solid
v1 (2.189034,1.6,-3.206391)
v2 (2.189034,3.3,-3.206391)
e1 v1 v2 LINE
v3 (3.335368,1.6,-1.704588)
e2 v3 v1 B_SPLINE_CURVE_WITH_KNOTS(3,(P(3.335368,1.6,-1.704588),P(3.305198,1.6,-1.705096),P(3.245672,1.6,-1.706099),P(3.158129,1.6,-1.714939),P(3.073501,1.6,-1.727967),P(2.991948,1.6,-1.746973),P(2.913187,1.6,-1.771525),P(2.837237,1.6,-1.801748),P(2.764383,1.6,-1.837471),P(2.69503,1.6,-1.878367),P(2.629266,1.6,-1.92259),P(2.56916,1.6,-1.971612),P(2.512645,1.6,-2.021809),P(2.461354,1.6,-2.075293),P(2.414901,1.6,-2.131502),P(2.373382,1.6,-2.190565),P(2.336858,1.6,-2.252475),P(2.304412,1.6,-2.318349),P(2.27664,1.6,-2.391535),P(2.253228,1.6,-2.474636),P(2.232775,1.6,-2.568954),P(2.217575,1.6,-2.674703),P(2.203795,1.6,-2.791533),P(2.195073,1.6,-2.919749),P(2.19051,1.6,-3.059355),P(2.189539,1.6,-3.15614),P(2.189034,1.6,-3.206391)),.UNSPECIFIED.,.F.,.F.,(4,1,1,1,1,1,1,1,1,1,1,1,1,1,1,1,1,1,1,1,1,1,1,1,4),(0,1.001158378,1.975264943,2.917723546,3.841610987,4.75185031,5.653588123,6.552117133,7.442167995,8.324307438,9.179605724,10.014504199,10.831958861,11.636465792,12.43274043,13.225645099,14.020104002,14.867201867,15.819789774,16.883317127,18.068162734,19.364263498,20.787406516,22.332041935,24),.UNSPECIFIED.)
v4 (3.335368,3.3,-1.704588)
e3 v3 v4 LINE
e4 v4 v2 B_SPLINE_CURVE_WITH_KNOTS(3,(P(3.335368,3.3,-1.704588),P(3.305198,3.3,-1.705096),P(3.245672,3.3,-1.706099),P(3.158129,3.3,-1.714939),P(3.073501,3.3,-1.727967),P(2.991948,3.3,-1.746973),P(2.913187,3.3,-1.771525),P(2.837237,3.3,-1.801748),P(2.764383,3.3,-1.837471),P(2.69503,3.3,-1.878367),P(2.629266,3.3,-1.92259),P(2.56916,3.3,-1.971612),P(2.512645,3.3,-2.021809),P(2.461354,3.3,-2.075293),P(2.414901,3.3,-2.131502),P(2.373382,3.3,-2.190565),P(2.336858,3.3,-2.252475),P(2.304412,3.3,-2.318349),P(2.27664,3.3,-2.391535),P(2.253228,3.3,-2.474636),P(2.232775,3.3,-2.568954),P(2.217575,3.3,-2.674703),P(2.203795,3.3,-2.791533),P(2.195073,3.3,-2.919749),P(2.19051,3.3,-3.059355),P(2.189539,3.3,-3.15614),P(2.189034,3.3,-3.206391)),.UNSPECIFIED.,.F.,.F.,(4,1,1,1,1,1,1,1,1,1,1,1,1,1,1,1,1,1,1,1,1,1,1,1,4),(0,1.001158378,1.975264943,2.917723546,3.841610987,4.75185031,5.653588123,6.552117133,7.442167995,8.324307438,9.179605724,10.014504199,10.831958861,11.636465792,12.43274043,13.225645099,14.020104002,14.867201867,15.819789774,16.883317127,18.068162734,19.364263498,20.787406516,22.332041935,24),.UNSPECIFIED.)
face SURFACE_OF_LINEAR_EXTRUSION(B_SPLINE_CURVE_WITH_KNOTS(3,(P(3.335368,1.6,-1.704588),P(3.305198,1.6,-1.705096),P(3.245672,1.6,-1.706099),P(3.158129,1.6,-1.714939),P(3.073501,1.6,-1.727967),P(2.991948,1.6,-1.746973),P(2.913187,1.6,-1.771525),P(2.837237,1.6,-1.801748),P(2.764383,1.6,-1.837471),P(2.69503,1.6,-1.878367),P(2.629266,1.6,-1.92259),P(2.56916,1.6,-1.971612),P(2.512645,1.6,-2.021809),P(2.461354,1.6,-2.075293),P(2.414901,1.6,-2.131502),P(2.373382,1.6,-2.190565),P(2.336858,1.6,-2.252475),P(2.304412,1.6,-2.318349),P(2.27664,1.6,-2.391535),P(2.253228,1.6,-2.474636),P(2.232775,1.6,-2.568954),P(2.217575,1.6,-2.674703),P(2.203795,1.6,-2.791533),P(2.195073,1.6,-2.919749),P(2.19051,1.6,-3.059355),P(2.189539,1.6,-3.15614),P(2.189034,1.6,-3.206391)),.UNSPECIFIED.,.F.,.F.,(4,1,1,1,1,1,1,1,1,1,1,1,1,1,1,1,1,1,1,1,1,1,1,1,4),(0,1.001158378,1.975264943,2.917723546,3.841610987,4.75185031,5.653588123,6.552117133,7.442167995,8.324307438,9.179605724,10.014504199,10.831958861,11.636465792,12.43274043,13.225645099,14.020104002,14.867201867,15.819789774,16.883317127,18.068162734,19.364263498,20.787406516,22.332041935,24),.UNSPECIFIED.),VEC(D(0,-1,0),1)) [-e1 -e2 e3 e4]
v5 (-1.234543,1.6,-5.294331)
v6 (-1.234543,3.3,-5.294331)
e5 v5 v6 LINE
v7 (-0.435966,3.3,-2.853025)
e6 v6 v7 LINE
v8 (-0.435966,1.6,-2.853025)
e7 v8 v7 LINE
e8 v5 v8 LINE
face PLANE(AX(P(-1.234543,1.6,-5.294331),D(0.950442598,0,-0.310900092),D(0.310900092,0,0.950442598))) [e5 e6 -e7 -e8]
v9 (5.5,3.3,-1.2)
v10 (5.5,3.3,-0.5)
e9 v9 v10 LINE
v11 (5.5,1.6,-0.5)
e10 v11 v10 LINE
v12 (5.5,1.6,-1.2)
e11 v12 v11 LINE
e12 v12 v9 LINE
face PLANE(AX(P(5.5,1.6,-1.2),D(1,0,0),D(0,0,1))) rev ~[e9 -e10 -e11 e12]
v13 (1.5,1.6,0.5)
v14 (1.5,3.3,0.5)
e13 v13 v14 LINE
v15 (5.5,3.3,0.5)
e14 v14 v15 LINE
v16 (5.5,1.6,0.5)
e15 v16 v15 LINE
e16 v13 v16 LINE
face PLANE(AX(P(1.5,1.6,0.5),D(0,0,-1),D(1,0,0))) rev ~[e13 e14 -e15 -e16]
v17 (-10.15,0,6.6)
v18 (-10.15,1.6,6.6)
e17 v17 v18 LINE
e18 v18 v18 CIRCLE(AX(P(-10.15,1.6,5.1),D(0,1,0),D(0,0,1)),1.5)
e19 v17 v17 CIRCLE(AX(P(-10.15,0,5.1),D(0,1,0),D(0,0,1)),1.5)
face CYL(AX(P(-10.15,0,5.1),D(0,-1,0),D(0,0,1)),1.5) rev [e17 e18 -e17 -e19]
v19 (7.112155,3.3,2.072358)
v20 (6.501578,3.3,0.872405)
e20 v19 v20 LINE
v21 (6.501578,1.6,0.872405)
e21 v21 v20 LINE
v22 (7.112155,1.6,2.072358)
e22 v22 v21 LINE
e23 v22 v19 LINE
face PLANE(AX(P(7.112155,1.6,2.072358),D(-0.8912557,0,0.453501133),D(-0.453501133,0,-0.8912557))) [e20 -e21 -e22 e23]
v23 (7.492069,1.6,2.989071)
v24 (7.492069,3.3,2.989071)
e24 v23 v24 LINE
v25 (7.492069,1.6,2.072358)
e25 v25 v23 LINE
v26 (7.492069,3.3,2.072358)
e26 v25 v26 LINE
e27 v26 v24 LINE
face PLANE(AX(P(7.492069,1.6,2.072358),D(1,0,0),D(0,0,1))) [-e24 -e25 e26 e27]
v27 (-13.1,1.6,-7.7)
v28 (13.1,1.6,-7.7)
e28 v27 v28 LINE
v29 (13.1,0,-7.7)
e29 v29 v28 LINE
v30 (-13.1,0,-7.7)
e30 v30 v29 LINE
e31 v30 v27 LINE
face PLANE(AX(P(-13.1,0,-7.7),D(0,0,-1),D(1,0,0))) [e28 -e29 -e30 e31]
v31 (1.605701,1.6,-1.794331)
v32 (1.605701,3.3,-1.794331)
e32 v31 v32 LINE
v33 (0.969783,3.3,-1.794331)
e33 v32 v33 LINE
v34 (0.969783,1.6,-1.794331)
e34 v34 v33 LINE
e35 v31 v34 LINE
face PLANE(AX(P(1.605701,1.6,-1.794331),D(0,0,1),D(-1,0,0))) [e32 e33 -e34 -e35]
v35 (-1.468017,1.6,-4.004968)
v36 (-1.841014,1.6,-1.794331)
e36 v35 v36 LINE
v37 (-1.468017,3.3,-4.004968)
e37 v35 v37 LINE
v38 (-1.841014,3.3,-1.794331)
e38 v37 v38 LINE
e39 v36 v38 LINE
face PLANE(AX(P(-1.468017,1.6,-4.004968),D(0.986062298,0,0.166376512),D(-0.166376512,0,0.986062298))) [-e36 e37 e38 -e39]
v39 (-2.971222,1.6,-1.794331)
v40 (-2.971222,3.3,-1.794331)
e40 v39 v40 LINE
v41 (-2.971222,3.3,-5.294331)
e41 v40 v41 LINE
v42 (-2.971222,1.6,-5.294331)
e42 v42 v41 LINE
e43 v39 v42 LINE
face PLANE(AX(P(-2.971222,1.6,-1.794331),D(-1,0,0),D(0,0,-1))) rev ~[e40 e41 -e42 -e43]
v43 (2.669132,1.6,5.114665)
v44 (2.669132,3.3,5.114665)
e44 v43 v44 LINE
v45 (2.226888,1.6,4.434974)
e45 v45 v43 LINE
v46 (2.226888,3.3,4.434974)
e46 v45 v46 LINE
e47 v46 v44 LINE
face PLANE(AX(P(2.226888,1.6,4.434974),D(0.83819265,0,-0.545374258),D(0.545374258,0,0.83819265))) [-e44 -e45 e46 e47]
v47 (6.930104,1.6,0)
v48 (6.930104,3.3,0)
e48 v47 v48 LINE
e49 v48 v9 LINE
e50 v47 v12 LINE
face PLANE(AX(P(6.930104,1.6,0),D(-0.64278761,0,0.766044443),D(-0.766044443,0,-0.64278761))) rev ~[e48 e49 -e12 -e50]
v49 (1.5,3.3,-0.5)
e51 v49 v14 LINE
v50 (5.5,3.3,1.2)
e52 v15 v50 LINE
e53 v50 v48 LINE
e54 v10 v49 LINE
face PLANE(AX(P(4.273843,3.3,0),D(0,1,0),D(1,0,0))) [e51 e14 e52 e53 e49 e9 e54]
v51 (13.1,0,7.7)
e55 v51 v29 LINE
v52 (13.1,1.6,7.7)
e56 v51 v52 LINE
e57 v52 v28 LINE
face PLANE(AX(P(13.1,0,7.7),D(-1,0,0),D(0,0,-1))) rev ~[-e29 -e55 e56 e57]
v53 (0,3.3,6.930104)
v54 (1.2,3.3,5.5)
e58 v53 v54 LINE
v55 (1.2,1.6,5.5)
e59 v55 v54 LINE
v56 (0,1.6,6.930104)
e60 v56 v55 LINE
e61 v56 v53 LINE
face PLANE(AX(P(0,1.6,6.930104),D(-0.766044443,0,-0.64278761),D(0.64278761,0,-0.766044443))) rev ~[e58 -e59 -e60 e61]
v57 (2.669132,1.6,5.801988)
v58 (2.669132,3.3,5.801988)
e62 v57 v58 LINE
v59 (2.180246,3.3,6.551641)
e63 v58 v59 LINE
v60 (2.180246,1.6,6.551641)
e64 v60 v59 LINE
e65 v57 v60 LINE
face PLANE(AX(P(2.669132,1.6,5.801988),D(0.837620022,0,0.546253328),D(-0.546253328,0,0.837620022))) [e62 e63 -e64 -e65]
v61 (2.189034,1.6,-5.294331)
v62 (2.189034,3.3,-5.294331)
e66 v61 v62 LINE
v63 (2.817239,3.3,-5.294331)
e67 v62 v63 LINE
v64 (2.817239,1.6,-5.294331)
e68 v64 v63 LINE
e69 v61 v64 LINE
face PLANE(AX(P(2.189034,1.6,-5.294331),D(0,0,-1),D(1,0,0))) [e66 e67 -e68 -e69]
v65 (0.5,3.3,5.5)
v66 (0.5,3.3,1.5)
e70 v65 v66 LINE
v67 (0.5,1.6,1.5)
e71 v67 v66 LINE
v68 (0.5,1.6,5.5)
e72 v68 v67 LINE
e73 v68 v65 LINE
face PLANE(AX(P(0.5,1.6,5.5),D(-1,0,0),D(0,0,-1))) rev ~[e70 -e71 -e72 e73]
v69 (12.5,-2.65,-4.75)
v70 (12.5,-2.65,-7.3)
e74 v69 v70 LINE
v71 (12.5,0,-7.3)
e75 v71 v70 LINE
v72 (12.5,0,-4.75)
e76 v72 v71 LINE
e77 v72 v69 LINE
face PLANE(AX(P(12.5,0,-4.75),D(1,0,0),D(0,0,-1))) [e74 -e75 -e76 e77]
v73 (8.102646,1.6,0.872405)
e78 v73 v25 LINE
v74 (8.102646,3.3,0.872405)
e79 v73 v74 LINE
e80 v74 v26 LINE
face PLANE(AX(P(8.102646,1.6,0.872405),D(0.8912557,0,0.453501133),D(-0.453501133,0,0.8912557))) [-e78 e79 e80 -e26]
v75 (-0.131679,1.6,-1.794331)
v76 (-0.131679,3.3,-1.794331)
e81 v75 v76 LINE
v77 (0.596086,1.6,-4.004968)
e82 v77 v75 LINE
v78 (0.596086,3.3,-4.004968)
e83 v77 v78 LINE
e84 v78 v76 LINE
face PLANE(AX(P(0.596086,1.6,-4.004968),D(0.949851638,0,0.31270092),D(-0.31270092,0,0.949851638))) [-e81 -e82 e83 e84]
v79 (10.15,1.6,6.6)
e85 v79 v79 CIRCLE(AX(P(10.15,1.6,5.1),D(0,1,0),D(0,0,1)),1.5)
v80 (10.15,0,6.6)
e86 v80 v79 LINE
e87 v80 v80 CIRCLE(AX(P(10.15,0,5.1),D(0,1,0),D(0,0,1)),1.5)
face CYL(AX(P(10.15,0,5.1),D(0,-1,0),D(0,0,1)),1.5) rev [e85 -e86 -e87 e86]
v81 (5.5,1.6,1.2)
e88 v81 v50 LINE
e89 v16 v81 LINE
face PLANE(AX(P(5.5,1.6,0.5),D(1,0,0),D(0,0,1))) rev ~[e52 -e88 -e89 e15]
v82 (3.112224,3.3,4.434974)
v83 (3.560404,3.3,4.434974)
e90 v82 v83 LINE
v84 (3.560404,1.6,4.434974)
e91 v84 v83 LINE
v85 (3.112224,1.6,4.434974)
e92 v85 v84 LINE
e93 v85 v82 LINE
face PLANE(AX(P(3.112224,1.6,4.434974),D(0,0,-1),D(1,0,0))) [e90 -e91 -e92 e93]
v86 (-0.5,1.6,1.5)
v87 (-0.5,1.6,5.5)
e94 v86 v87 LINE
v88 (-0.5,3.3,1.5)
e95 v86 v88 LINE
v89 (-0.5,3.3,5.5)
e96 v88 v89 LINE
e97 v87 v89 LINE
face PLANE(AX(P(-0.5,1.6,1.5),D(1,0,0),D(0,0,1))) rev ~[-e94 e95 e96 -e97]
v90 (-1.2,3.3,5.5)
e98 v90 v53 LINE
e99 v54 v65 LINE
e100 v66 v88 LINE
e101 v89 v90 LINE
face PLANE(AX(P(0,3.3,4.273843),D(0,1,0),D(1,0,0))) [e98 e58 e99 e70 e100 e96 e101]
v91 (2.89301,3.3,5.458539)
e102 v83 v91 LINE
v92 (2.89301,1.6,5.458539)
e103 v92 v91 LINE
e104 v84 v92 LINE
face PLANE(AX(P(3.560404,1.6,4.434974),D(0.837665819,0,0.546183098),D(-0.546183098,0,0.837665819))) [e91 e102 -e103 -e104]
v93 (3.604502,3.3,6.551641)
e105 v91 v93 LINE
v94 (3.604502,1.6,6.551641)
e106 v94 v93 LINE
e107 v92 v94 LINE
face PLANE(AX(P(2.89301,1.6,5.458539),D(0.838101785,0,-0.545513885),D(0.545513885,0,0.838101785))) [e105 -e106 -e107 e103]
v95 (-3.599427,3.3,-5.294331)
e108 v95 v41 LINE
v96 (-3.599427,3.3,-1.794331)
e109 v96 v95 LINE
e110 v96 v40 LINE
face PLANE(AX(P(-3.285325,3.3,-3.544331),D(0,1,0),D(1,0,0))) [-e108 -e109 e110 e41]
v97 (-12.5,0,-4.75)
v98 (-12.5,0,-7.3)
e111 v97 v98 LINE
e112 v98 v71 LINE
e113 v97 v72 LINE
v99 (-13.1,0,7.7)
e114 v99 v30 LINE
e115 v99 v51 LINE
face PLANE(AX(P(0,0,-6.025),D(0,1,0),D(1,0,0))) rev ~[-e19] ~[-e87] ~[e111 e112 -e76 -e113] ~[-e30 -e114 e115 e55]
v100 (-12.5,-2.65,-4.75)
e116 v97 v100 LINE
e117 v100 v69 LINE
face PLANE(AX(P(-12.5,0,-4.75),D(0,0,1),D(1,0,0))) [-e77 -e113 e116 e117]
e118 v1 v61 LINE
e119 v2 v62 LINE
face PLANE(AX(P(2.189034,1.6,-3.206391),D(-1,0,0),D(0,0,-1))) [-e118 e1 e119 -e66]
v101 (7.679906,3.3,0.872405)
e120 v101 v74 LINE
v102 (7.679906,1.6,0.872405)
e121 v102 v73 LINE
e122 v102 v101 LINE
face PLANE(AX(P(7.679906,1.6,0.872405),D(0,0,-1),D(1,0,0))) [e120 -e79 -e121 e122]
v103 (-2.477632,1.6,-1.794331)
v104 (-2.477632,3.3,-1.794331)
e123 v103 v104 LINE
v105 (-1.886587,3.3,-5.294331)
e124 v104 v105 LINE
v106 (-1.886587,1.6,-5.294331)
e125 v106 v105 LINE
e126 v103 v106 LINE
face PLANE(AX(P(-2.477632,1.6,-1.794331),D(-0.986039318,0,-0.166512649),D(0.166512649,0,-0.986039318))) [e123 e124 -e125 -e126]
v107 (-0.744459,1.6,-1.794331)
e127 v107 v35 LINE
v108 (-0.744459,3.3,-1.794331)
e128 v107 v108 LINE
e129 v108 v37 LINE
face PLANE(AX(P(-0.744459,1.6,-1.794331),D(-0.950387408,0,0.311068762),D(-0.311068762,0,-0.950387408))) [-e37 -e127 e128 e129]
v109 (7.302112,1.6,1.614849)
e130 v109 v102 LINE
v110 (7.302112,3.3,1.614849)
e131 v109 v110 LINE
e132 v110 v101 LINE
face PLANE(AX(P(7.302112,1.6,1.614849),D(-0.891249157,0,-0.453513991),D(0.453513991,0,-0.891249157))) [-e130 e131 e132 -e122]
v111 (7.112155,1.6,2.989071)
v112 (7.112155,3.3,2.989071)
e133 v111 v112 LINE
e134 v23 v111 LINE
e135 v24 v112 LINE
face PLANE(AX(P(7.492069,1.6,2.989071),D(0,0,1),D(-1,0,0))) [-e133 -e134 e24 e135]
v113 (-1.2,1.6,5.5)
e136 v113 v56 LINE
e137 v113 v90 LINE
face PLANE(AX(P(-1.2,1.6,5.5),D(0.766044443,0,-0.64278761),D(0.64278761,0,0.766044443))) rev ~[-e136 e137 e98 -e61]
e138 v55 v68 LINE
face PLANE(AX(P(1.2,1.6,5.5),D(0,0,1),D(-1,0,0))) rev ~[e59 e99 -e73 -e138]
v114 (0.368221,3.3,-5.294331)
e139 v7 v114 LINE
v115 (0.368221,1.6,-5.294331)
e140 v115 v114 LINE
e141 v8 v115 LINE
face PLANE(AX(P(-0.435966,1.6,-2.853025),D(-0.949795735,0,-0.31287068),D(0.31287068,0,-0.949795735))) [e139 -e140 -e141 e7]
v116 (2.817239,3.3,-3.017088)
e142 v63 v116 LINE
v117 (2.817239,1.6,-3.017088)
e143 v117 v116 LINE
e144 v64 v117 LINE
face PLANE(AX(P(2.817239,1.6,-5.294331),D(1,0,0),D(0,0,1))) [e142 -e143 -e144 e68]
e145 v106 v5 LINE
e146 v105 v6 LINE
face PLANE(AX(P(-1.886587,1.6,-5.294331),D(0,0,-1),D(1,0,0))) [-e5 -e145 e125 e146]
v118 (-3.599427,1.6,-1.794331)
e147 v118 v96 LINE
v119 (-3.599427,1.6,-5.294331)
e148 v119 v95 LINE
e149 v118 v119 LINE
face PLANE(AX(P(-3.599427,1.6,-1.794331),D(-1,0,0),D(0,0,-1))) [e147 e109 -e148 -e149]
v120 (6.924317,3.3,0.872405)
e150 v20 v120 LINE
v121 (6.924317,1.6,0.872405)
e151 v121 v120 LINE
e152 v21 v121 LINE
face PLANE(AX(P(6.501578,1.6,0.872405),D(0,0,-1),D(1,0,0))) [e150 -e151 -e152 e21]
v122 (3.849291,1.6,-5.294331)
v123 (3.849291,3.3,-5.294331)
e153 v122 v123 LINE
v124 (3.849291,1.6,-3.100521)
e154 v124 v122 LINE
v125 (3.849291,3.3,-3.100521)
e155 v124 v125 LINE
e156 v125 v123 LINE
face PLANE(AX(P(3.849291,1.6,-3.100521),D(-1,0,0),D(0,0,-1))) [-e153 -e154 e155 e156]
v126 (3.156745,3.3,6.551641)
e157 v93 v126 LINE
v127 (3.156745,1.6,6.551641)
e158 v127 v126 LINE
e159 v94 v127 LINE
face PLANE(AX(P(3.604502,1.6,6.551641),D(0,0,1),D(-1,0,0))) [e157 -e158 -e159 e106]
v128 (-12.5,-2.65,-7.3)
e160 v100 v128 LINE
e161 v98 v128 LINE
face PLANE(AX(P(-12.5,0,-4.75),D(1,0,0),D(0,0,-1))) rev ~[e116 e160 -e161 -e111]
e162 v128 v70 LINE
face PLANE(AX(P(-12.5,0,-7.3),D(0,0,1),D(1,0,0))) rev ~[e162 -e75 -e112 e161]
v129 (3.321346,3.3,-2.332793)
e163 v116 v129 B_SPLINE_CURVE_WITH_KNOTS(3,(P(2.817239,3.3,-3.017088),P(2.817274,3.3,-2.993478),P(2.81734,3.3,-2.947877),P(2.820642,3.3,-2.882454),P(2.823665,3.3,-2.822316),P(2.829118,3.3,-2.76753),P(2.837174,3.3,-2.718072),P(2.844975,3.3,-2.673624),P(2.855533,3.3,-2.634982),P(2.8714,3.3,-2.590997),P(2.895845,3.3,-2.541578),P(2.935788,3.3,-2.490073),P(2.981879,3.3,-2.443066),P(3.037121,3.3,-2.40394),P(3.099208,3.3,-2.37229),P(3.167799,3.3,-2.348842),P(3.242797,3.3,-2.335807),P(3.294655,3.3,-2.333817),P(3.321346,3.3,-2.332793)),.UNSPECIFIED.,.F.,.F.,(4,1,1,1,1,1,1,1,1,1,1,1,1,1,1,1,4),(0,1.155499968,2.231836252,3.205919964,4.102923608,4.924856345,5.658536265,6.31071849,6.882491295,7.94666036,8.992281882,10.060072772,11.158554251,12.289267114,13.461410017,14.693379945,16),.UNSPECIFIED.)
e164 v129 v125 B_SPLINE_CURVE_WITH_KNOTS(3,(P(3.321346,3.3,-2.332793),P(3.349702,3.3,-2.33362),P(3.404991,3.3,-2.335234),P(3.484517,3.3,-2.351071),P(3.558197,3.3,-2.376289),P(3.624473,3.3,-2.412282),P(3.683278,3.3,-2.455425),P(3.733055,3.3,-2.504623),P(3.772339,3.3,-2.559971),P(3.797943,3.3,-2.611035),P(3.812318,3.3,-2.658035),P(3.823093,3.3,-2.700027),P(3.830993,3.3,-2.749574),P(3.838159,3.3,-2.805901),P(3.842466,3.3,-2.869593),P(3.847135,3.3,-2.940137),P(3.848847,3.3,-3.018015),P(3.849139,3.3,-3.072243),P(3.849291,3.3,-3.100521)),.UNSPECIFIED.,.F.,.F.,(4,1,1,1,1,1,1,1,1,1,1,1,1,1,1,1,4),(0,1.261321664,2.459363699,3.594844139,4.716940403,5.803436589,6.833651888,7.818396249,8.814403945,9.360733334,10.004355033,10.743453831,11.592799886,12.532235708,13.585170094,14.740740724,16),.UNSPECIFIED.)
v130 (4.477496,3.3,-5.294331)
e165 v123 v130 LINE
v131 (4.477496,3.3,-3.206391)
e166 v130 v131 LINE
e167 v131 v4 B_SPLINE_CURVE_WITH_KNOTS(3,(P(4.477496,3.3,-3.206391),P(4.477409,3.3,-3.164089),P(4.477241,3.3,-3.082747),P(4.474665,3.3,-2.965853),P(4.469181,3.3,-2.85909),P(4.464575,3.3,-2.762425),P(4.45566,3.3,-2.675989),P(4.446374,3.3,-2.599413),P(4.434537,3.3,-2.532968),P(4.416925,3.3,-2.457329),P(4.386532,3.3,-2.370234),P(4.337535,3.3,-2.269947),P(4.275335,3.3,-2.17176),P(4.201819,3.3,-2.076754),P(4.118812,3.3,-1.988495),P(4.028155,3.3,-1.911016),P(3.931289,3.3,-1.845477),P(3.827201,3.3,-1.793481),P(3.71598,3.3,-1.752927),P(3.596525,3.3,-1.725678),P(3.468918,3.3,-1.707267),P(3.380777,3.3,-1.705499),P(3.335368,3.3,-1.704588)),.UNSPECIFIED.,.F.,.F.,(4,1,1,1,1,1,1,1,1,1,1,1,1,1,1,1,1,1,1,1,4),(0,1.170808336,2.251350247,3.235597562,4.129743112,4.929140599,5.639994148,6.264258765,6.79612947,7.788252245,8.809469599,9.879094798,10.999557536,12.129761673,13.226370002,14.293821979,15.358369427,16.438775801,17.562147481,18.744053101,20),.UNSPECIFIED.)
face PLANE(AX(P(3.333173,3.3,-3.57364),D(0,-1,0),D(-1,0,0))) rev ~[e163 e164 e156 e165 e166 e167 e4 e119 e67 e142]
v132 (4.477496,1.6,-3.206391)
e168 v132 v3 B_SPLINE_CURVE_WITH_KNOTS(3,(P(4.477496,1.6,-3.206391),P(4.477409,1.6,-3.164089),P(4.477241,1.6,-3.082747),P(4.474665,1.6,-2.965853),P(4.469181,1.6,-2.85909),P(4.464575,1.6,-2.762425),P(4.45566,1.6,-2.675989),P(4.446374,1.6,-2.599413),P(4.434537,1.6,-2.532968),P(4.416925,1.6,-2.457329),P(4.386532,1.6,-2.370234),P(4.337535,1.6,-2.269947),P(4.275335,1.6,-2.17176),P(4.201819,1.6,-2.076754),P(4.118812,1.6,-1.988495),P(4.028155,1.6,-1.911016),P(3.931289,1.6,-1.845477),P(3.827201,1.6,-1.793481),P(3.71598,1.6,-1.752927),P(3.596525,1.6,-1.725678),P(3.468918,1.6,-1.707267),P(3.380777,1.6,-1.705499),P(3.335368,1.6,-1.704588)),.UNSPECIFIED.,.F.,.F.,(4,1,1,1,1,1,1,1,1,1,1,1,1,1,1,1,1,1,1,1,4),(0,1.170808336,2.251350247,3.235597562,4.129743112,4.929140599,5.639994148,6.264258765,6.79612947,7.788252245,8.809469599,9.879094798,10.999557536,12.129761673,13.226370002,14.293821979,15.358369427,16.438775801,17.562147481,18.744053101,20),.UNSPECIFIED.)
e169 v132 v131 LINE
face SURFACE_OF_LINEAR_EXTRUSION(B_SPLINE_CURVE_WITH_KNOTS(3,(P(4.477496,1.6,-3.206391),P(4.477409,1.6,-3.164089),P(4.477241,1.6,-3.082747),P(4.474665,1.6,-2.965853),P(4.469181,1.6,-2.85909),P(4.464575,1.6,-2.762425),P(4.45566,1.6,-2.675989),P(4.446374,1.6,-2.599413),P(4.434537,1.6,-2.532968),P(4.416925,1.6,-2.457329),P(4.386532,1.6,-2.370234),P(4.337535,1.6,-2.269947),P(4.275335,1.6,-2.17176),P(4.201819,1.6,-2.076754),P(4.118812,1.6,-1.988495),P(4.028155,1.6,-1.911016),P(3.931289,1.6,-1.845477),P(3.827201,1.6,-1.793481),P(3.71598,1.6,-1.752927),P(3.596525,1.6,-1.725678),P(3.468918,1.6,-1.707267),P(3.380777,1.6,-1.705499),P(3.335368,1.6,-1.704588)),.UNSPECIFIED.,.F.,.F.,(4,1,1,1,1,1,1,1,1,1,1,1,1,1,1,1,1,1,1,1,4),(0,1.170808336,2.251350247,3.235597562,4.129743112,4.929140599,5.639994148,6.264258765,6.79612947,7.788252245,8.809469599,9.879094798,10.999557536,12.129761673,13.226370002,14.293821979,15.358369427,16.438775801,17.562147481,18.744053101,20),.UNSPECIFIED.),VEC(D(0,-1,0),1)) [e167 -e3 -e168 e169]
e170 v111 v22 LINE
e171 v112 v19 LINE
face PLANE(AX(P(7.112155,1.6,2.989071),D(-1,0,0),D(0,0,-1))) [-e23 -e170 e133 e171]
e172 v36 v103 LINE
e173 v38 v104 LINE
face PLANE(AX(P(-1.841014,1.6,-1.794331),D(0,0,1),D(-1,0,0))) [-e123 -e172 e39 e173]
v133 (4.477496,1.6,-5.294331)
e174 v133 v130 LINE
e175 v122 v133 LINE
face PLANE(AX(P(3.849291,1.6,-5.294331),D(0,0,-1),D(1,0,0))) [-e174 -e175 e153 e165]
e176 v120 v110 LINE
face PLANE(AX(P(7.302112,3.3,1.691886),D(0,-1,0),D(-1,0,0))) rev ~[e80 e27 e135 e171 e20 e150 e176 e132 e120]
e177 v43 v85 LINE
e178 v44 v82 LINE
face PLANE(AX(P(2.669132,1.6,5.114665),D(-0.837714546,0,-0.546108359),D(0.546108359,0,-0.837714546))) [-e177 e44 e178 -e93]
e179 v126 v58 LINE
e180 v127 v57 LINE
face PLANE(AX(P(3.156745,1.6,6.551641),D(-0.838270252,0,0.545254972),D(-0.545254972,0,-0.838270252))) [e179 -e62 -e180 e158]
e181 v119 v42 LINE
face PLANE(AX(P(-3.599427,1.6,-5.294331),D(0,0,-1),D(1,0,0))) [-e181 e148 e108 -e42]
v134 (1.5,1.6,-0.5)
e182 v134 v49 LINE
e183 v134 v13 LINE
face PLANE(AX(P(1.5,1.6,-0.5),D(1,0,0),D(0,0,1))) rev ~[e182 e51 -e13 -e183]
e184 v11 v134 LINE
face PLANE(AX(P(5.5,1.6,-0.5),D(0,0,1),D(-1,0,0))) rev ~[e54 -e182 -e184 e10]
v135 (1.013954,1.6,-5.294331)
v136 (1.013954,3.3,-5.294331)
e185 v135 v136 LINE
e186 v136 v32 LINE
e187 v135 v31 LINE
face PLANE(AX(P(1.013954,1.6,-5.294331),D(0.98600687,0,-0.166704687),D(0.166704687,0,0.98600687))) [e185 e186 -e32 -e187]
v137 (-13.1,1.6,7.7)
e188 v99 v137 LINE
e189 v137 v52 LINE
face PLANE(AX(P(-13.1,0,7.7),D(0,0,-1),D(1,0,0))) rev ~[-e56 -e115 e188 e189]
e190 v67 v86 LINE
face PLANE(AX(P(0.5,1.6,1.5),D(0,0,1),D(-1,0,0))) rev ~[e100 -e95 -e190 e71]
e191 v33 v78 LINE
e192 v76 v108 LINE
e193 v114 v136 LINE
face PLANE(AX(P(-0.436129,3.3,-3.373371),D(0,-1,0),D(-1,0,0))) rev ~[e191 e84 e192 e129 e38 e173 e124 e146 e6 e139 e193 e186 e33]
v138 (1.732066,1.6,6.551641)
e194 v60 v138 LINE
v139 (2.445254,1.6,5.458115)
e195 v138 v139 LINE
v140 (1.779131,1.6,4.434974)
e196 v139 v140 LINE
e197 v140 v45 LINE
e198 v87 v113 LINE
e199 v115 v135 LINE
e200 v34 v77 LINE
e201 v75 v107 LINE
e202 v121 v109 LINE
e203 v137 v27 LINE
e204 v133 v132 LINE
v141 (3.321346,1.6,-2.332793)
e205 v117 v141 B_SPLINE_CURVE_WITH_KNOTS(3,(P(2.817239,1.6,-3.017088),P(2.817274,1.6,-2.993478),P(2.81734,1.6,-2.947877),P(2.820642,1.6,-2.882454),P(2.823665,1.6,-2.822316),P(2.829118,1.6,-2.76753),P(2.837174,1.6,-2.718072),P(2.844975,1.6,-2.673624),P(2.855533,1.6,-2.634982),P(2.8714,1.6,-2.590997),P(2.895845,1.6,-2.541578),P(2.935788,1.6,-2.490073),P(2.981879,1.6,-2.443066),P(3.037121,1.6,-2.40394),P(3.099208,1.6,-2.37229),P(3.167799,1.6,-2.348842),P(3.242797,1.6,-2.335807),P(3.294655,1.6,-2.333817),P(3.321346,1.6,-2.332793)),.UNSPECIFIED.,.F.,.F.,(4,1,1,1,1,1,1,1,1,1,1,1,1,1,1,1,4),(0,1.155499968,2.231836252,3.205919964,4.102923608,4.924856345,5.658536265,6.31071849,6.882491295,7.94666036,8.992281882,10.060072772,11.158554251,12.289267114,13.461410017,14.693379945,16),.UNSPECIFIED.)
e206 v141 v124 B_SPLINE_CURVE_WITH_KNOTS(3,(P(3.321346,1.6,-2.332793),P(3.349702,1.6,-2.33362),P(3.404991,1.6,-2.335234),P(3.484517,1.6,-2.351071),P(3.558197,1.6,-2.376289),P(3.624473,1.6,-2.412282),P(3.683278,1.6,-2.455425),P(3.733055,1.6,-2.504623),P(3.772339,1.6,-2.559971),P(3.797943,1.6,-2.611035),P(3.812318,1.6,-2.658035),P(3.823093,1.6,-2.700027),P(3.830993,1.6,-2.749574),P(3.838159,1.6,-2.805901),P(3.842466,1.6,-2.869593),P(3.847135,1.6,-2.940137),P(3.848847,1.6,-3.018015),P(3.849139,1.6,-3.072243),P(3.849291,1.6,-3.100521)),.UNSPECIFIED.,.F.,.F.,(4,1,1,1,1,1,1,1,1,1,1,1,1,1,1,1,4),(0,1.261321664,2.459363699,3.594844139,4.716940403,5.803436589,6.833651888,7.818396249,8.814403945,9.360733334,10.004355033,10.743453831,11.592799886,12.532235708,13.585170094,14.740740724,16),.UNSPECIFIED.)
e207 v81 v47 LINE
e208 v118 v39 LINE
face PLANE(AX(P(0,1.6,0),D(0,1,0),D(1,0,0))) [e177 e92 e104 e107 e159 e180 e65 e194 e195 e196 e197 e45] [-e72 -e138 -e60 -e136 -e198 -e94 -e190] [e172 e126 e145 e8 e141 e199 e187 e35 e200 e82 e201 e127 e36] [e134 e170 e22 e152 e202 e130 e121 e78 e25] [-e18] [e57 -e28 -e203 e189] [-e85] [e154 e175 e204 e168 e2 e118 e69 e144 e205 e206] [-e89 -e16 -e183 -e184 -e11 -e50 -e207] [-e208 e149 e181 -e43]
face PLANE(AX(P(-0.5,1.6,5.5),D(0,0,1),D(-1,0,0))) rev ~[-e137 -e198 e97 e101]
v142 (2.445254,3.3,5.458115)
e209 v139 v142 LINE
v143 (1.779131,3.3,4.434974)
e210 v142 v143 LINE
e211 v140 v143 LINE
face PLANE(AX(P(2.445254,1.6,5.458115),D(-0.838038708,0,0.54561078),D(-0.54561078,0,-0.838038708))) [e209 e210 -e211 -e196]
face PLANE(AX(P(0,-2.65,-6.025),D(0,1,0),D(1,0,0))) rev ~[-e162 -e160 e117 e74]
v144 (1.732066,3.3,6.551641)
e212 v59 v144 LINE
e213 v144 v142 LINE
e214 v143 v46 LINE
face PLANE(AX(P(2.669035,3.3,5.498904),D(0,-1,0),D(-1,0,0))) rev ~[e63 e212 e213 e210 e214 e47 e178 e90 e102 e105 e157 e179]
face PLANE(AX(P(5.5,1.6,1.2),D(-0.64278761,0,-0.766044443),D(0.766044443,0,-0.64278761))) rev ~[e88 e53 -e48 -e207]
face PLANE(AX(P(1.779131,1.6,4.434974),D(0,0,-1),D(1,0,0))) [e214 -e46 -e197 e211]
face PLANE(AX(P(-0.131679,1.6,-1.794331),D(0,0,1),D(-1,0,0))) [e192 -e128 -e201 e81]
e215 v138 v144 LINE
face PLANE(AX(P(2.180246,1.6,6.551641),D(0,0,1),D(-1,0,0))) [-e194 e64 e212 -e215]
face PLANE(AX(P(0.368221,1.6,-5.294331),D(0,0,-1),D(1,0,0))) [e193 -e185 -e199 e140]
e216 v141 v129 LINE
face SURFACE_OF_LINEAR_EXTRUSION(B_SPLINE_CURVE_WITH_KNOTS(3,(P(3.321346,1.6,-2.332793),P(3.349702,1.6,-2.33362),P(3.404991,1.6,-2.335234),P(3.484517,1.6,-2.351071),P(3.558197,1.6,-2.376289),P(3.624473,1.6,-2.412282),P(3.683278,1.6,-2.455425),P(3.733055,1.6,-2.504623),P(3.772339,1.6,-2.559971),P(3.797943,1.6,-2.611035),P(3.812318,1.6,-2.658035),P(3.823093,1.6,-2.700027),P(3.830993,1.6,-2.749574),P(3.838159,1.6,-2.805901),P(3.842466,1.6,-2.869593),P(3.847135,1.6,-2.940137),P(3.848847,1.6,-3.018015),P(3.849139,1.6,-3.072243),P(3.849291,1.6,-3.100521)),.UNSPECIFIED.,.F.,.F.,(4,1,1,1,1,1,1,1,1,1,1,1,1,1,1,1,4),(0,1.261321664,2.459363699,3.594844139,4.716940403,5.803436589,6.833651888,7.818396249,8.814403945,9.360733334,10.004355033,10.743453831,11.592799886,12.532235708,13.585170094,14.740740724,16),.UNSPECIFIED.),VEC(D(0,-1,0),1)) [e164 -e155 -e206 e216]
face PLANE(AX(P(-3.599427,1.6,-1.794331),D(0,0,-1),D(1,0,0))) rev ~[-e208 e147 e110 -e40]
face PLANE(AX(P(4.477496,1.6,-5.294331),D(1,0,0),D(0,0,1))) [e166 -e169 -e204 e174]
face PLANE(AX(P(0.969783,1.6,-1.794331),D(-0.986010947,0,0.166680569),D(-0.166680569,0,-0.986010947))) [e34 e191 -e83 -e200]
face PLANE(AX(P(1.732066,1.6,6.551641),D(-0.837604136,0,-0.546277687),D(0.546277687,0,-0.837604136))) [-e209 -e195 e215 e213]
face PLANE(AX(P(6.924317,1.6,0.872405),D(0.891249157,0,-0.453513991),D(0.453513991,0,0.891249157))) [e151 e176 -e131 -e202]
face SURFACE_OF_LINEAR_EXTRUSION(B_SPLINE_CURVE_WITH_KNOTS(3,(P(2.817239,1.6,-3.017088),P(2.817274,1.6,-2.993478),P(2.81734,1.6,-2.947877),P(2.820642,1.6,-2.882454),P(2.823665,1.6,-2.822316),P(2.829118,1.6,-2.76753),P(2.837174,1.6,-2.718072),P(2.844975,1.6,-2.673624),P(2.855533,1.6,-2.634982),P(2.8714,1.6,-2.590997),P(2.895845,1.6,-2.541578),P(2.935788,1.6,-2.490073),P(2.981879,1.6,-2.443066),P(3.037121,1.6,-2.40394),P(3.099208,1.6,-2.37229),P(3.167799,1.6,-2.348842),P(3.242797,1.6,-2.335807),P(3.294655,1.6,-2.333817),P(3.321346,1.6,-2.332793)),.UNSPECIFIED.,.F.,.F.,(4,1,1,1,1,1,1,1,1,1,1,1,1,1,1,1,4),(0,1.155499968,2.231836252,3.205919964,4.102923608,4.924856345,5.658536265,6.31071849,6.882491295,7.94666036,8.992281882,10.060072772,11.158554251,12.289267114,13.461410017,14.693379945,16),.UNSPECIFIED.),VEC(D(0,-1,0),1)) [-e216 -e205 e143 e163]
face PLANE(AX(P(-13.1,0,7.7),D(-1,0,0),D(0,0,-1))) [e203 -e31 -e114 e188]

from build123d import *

# Parameters (mm, degrees)
SKETCH_1_W      = 26.2
SKETCH_1_H      = 15.4
SKETCH_1_R      = 1.5
EXTRUDE_1_DEPTH = 1.6
SKETCH_1_3_W    = 25
SKETCH_1_3_H    = 2.55
EXTRUDE_2_DEPTH = 2.65
SKETCH_2_W      = 0.628205128
SKETCH_2_H      = 3.5
EXTRUDE_3_DEPTH = 1.7


with BuildPart() as part:
    # 스케치1 → 보스-돌출1 (new body)
    with BuildSketch(Plane(origin=(0, 0, 0), x_dir=(1, 0, 0), z_dir=(0, 1, 0))):
        Rectangle(SKETCH_1_W, SKETCH_1_H)
        with Locations((-10.15, -5.1)):
            Circle(SKETCH_1_R, mode=Mode.SUBTRACT)
        with Locations((10.15, -5.1)):
            Circle(SKETCH_1_R, mode=Mode.SUBTRACT)
    extrude(amount=EXTRUDE_1_DEPTH)

    # 스케치1<3> → 보스-돌출2 (add)
    with BuildSketch(Plane(origin=(0, 0, 0), x_dir=(1, 0, 0), z_dir=(0, 1, 0))):
        with Locations((0, 6.025)):
            Rectangle(SKETCH_1_3_W, SKETCH_1_3_H)
    extrude(amount=-EXTRUDE_2_DEPTH)

    # 스케치2 → 보스-돌출3 (add)
    with BuildSketch(Plane(origin=(0, 1.6, 0), x_dir=(1, 0, 0), z_dir=(0, 1, 0))):
        Polygon((0.5, -1.5), (-0.5, -1.5), (-0.5, -5.5), (-1.2, -5.5), (0, -6.930104311), (1.2, -5.5), (0.5, -5.5), align=None)
        Polygon((5.5, -1.2), (6.930104311, 0), (5.5, 1.2), (5.5, 0.5), (1.5, 0.5), (1.5, -0.5), (5.5, -0.5), align=None)
        with Locations((-3.28532471, 3.544331345)):
            Rectangle(SKETCH_2_W, SKETCH_2_H)
        Polygon((-1.886586729, 5.294331345), (-1.23454346, 5.294331345), (-0.435965736, 2.853025255), (0.368220963, 5.294331345), (1.013954136, 5.294331345), (1.605700931, 1.794331345), (0.969783463, 1.794331345), (0.596085547, 4.004968364), (-0.131678877, 1.794331345), (-0.744459325, 1.794331345), (-1.468017018, 4.004968364), (-1.841013812, 1.794331345), (-2.477632402, 1.794331345), align=None)
        with BuildLine():
            Line((2.189034264, 5.294331345), (2.817239393, 5.294331345))
            Line((2.817239393, 5.294331345), (2.817239393, 3.017087755))
            add(Edge.make_bspline(
                [(2.817239393, 3.017087755), (2.817273551, 2.993478281), (2.817339529, 2.947876826), (2.82064238, 2.882453669), (2.823664717, 2.822316089), (2.82911787, 2.767529925), (2.837174047, 2.71807174), (2.844975055, 2.673623833), (2.855532948, 2.634981994), (2.871399773, 2.590997464), (2.895845342, 2.541578443), (2.935788046, 2.490072805), (2.981878508, 2.443066435), (3.037120582, 2.403940113), (3.099207788, 2.372290446), (3.167798984, 2.348841544), (3.242797481, 2.335807069), (3.294654828, 2.333817117), (3.321345963, 2.332792883)],
                knots=[0, 0, 0, 0, 1.155499968, 2.231836252, 3.205919964, 4.102923608, 4.924856345, 5.658536265, 6.31071849, 6.882491295, 7.94666036, 8.992281882, 10.060072772, 11.158554251, 12.289267114, 13.461410017, 14.693379945, 16, 16, 16, 16], degree=3))
            add(Edge.make_bspline(
                [(3.321345963, 2.332792883), (3.349702001, 2.333620333), (3.404991473, 2.33523372), (3.484516578, 2.351070858), (3.558197038, 2.376289005), (3.624472787, 2.412281729), (3.68327787, 2.455425316), (3.733055141, 2.504622525), (3.772339181, 2.55997148), (3.797943056, 2.611035105), (3.812318371, 2.658034726), (3.823093386, 2.700027104), (3.830992664, 2.749573953), (3.838159148, 2.805901493), (3.842465653, 2.869593167), (3.847135356, 2.940136761), (3.848846846, 3.018014951), (3.849138556, 3.072242996), (3.849290675, 3.100521249)],
                knots=[0, 0, 0, 0, 1.261321664, 2.459363699, 3.594844139, 4.716940403, 5.803436589, 6.833651888, 7.818396249, 8.814403945, 9.360733334, 10.004355033, 10.743453831, 11.592799886, 12.532235708, 13.585170094, 14.740740724, 16, 16, 16, 16], degree=3))
            Line((3.849290675, 3.100521249), (3.849290675, 5.294331345))
            Line((3.849290675, 5.294331345), (4.477495803, 5.294331345))
            Line((4.477495803, 5.294331345), (4.477495803, 3.20639064))
            add(Edge.make_bspline(
                [(4.477495803, 3.20639064), (4.477408565, 3.164089061), (4.477240816, 3.08274725), (4.474664688, 2.965853344), (4.469180577, 2.859089511), (4.464574557, 2.762424556), (4.455660331, 2.675988702), (4.446373798, 2.599412843), (4.434537313, 2.532968347), (4.416925335, 2.457329363), (4.386532275, 2.370233842), (4.337534678, 2.269947127), (4.275335399, 2.171760357), (4.201818961, 2.076753656), (4.118812177, 1.988495493), (4.028155486, 1.91101625), (3.931289197, 1.845477164), (3.827201127, 1.793480747), (3.71597986, 1.752927462), (3.596524945, 1.725677696), (3.46891784, 1.707267413), (3.380777201, 1.705498879), (3.335368399, 1.704587755)],
                knots=[0, 0, 0, 0, 1.170808336, 2.251350247, 3.235597562, 4.129743112, 4.929140599, 5.639994148, 6.264258765, 6.79612947, 7.788252245, 8.809469599, 9.879094798, 10.999557536, 12.129761673, 13.226370002, 14.293821979, 15.358369427, 16.438775801, 17.562147481, 18.744053101, 20, 20, 20, 20], degree=3))
            add(Edge.make_bspline(
                [(3.335368399, 1.704587755), (3.305197888, 1.705095937), (3.245672088, 1.706098571), (3.158128956, 1.714939179), (3.073501323, 1.727966912), (2.991948202, 1.746973032), (2.913186538, 1.771525389), (2.837237257, 1.801747631), (2.764382604, 1.837471182), (2.695030264, 1.878367463), (2.62926558, 1.92258975), (2.569160054, 1.971612016), (2.512645313, 2.021808881), (2.461354044, 2.075292841), (2.414901005, 2.131502406), (2.373381866, 2.190564964), (2.33685831, 2.252475271), (2.304411607, 2.318349254), (2.276640395, 2.391535053), (2.253228221, 2.474635914), (2.232774795, 2.568954362), (2.217575015, 2.67470289), (2.203794806, 2.791532964), (2.195072693, 2.919748944), (2.190509763, 3.059354507), (2.189538525, 3.156140151), (2.189034264, 3.20639064)],
                knots=[0, 0, 0, 0, 1.001158378, 1.975264943, 2.917723546, 3.841610987, 4.75185031, 5.653588123, 6.552117133, 7.442167995, 8.324307438, 9.179605724, 10.014504199, 10.831958861, 11.636465792, 12.43274043, 13.225645099, 14.020104002, 14.867201867, 15.819789774, 16.883317127, 18.068162734, 19.364263498, 20.787406516, 22.332041935, 24, 24, 24, 24], degree=3))
            Line((2.189034264, 3.20639064), (2.189034264, 5.294331345))
        make_face()
        Polygon((1.779131112, -4.434974289), (2.226887522, -4.434974289), (2.66913178, -5.114665128), (3.112224061, -4.434974289), (3.560404483, -4.434974289), (2.893009985, -5.458538659), (3.604501705, -6.551640956), (3.156745295, -6.551640956), (2.66913178, -5.801988178), (2.18024623, -6.551640956), (1.732065808, -6.551640956), (2.445253575, -5.458114647), align=None)
        Polygon((6.501577719, -0.872404796), (6.924317436, -0.872404796), (7.302111907, -1.614849374), (7.679906378, -0.872404796), (8.102646095, -0.872404796), (7.492069172, -2.072358055), (7.492069172, -2.989071463), (7.112154642, -2.989071463), (7.112154642, -2.072358055), align=None)
    extrude(amount=EXTRUDE_3_DEPTH)


solid = part.part
